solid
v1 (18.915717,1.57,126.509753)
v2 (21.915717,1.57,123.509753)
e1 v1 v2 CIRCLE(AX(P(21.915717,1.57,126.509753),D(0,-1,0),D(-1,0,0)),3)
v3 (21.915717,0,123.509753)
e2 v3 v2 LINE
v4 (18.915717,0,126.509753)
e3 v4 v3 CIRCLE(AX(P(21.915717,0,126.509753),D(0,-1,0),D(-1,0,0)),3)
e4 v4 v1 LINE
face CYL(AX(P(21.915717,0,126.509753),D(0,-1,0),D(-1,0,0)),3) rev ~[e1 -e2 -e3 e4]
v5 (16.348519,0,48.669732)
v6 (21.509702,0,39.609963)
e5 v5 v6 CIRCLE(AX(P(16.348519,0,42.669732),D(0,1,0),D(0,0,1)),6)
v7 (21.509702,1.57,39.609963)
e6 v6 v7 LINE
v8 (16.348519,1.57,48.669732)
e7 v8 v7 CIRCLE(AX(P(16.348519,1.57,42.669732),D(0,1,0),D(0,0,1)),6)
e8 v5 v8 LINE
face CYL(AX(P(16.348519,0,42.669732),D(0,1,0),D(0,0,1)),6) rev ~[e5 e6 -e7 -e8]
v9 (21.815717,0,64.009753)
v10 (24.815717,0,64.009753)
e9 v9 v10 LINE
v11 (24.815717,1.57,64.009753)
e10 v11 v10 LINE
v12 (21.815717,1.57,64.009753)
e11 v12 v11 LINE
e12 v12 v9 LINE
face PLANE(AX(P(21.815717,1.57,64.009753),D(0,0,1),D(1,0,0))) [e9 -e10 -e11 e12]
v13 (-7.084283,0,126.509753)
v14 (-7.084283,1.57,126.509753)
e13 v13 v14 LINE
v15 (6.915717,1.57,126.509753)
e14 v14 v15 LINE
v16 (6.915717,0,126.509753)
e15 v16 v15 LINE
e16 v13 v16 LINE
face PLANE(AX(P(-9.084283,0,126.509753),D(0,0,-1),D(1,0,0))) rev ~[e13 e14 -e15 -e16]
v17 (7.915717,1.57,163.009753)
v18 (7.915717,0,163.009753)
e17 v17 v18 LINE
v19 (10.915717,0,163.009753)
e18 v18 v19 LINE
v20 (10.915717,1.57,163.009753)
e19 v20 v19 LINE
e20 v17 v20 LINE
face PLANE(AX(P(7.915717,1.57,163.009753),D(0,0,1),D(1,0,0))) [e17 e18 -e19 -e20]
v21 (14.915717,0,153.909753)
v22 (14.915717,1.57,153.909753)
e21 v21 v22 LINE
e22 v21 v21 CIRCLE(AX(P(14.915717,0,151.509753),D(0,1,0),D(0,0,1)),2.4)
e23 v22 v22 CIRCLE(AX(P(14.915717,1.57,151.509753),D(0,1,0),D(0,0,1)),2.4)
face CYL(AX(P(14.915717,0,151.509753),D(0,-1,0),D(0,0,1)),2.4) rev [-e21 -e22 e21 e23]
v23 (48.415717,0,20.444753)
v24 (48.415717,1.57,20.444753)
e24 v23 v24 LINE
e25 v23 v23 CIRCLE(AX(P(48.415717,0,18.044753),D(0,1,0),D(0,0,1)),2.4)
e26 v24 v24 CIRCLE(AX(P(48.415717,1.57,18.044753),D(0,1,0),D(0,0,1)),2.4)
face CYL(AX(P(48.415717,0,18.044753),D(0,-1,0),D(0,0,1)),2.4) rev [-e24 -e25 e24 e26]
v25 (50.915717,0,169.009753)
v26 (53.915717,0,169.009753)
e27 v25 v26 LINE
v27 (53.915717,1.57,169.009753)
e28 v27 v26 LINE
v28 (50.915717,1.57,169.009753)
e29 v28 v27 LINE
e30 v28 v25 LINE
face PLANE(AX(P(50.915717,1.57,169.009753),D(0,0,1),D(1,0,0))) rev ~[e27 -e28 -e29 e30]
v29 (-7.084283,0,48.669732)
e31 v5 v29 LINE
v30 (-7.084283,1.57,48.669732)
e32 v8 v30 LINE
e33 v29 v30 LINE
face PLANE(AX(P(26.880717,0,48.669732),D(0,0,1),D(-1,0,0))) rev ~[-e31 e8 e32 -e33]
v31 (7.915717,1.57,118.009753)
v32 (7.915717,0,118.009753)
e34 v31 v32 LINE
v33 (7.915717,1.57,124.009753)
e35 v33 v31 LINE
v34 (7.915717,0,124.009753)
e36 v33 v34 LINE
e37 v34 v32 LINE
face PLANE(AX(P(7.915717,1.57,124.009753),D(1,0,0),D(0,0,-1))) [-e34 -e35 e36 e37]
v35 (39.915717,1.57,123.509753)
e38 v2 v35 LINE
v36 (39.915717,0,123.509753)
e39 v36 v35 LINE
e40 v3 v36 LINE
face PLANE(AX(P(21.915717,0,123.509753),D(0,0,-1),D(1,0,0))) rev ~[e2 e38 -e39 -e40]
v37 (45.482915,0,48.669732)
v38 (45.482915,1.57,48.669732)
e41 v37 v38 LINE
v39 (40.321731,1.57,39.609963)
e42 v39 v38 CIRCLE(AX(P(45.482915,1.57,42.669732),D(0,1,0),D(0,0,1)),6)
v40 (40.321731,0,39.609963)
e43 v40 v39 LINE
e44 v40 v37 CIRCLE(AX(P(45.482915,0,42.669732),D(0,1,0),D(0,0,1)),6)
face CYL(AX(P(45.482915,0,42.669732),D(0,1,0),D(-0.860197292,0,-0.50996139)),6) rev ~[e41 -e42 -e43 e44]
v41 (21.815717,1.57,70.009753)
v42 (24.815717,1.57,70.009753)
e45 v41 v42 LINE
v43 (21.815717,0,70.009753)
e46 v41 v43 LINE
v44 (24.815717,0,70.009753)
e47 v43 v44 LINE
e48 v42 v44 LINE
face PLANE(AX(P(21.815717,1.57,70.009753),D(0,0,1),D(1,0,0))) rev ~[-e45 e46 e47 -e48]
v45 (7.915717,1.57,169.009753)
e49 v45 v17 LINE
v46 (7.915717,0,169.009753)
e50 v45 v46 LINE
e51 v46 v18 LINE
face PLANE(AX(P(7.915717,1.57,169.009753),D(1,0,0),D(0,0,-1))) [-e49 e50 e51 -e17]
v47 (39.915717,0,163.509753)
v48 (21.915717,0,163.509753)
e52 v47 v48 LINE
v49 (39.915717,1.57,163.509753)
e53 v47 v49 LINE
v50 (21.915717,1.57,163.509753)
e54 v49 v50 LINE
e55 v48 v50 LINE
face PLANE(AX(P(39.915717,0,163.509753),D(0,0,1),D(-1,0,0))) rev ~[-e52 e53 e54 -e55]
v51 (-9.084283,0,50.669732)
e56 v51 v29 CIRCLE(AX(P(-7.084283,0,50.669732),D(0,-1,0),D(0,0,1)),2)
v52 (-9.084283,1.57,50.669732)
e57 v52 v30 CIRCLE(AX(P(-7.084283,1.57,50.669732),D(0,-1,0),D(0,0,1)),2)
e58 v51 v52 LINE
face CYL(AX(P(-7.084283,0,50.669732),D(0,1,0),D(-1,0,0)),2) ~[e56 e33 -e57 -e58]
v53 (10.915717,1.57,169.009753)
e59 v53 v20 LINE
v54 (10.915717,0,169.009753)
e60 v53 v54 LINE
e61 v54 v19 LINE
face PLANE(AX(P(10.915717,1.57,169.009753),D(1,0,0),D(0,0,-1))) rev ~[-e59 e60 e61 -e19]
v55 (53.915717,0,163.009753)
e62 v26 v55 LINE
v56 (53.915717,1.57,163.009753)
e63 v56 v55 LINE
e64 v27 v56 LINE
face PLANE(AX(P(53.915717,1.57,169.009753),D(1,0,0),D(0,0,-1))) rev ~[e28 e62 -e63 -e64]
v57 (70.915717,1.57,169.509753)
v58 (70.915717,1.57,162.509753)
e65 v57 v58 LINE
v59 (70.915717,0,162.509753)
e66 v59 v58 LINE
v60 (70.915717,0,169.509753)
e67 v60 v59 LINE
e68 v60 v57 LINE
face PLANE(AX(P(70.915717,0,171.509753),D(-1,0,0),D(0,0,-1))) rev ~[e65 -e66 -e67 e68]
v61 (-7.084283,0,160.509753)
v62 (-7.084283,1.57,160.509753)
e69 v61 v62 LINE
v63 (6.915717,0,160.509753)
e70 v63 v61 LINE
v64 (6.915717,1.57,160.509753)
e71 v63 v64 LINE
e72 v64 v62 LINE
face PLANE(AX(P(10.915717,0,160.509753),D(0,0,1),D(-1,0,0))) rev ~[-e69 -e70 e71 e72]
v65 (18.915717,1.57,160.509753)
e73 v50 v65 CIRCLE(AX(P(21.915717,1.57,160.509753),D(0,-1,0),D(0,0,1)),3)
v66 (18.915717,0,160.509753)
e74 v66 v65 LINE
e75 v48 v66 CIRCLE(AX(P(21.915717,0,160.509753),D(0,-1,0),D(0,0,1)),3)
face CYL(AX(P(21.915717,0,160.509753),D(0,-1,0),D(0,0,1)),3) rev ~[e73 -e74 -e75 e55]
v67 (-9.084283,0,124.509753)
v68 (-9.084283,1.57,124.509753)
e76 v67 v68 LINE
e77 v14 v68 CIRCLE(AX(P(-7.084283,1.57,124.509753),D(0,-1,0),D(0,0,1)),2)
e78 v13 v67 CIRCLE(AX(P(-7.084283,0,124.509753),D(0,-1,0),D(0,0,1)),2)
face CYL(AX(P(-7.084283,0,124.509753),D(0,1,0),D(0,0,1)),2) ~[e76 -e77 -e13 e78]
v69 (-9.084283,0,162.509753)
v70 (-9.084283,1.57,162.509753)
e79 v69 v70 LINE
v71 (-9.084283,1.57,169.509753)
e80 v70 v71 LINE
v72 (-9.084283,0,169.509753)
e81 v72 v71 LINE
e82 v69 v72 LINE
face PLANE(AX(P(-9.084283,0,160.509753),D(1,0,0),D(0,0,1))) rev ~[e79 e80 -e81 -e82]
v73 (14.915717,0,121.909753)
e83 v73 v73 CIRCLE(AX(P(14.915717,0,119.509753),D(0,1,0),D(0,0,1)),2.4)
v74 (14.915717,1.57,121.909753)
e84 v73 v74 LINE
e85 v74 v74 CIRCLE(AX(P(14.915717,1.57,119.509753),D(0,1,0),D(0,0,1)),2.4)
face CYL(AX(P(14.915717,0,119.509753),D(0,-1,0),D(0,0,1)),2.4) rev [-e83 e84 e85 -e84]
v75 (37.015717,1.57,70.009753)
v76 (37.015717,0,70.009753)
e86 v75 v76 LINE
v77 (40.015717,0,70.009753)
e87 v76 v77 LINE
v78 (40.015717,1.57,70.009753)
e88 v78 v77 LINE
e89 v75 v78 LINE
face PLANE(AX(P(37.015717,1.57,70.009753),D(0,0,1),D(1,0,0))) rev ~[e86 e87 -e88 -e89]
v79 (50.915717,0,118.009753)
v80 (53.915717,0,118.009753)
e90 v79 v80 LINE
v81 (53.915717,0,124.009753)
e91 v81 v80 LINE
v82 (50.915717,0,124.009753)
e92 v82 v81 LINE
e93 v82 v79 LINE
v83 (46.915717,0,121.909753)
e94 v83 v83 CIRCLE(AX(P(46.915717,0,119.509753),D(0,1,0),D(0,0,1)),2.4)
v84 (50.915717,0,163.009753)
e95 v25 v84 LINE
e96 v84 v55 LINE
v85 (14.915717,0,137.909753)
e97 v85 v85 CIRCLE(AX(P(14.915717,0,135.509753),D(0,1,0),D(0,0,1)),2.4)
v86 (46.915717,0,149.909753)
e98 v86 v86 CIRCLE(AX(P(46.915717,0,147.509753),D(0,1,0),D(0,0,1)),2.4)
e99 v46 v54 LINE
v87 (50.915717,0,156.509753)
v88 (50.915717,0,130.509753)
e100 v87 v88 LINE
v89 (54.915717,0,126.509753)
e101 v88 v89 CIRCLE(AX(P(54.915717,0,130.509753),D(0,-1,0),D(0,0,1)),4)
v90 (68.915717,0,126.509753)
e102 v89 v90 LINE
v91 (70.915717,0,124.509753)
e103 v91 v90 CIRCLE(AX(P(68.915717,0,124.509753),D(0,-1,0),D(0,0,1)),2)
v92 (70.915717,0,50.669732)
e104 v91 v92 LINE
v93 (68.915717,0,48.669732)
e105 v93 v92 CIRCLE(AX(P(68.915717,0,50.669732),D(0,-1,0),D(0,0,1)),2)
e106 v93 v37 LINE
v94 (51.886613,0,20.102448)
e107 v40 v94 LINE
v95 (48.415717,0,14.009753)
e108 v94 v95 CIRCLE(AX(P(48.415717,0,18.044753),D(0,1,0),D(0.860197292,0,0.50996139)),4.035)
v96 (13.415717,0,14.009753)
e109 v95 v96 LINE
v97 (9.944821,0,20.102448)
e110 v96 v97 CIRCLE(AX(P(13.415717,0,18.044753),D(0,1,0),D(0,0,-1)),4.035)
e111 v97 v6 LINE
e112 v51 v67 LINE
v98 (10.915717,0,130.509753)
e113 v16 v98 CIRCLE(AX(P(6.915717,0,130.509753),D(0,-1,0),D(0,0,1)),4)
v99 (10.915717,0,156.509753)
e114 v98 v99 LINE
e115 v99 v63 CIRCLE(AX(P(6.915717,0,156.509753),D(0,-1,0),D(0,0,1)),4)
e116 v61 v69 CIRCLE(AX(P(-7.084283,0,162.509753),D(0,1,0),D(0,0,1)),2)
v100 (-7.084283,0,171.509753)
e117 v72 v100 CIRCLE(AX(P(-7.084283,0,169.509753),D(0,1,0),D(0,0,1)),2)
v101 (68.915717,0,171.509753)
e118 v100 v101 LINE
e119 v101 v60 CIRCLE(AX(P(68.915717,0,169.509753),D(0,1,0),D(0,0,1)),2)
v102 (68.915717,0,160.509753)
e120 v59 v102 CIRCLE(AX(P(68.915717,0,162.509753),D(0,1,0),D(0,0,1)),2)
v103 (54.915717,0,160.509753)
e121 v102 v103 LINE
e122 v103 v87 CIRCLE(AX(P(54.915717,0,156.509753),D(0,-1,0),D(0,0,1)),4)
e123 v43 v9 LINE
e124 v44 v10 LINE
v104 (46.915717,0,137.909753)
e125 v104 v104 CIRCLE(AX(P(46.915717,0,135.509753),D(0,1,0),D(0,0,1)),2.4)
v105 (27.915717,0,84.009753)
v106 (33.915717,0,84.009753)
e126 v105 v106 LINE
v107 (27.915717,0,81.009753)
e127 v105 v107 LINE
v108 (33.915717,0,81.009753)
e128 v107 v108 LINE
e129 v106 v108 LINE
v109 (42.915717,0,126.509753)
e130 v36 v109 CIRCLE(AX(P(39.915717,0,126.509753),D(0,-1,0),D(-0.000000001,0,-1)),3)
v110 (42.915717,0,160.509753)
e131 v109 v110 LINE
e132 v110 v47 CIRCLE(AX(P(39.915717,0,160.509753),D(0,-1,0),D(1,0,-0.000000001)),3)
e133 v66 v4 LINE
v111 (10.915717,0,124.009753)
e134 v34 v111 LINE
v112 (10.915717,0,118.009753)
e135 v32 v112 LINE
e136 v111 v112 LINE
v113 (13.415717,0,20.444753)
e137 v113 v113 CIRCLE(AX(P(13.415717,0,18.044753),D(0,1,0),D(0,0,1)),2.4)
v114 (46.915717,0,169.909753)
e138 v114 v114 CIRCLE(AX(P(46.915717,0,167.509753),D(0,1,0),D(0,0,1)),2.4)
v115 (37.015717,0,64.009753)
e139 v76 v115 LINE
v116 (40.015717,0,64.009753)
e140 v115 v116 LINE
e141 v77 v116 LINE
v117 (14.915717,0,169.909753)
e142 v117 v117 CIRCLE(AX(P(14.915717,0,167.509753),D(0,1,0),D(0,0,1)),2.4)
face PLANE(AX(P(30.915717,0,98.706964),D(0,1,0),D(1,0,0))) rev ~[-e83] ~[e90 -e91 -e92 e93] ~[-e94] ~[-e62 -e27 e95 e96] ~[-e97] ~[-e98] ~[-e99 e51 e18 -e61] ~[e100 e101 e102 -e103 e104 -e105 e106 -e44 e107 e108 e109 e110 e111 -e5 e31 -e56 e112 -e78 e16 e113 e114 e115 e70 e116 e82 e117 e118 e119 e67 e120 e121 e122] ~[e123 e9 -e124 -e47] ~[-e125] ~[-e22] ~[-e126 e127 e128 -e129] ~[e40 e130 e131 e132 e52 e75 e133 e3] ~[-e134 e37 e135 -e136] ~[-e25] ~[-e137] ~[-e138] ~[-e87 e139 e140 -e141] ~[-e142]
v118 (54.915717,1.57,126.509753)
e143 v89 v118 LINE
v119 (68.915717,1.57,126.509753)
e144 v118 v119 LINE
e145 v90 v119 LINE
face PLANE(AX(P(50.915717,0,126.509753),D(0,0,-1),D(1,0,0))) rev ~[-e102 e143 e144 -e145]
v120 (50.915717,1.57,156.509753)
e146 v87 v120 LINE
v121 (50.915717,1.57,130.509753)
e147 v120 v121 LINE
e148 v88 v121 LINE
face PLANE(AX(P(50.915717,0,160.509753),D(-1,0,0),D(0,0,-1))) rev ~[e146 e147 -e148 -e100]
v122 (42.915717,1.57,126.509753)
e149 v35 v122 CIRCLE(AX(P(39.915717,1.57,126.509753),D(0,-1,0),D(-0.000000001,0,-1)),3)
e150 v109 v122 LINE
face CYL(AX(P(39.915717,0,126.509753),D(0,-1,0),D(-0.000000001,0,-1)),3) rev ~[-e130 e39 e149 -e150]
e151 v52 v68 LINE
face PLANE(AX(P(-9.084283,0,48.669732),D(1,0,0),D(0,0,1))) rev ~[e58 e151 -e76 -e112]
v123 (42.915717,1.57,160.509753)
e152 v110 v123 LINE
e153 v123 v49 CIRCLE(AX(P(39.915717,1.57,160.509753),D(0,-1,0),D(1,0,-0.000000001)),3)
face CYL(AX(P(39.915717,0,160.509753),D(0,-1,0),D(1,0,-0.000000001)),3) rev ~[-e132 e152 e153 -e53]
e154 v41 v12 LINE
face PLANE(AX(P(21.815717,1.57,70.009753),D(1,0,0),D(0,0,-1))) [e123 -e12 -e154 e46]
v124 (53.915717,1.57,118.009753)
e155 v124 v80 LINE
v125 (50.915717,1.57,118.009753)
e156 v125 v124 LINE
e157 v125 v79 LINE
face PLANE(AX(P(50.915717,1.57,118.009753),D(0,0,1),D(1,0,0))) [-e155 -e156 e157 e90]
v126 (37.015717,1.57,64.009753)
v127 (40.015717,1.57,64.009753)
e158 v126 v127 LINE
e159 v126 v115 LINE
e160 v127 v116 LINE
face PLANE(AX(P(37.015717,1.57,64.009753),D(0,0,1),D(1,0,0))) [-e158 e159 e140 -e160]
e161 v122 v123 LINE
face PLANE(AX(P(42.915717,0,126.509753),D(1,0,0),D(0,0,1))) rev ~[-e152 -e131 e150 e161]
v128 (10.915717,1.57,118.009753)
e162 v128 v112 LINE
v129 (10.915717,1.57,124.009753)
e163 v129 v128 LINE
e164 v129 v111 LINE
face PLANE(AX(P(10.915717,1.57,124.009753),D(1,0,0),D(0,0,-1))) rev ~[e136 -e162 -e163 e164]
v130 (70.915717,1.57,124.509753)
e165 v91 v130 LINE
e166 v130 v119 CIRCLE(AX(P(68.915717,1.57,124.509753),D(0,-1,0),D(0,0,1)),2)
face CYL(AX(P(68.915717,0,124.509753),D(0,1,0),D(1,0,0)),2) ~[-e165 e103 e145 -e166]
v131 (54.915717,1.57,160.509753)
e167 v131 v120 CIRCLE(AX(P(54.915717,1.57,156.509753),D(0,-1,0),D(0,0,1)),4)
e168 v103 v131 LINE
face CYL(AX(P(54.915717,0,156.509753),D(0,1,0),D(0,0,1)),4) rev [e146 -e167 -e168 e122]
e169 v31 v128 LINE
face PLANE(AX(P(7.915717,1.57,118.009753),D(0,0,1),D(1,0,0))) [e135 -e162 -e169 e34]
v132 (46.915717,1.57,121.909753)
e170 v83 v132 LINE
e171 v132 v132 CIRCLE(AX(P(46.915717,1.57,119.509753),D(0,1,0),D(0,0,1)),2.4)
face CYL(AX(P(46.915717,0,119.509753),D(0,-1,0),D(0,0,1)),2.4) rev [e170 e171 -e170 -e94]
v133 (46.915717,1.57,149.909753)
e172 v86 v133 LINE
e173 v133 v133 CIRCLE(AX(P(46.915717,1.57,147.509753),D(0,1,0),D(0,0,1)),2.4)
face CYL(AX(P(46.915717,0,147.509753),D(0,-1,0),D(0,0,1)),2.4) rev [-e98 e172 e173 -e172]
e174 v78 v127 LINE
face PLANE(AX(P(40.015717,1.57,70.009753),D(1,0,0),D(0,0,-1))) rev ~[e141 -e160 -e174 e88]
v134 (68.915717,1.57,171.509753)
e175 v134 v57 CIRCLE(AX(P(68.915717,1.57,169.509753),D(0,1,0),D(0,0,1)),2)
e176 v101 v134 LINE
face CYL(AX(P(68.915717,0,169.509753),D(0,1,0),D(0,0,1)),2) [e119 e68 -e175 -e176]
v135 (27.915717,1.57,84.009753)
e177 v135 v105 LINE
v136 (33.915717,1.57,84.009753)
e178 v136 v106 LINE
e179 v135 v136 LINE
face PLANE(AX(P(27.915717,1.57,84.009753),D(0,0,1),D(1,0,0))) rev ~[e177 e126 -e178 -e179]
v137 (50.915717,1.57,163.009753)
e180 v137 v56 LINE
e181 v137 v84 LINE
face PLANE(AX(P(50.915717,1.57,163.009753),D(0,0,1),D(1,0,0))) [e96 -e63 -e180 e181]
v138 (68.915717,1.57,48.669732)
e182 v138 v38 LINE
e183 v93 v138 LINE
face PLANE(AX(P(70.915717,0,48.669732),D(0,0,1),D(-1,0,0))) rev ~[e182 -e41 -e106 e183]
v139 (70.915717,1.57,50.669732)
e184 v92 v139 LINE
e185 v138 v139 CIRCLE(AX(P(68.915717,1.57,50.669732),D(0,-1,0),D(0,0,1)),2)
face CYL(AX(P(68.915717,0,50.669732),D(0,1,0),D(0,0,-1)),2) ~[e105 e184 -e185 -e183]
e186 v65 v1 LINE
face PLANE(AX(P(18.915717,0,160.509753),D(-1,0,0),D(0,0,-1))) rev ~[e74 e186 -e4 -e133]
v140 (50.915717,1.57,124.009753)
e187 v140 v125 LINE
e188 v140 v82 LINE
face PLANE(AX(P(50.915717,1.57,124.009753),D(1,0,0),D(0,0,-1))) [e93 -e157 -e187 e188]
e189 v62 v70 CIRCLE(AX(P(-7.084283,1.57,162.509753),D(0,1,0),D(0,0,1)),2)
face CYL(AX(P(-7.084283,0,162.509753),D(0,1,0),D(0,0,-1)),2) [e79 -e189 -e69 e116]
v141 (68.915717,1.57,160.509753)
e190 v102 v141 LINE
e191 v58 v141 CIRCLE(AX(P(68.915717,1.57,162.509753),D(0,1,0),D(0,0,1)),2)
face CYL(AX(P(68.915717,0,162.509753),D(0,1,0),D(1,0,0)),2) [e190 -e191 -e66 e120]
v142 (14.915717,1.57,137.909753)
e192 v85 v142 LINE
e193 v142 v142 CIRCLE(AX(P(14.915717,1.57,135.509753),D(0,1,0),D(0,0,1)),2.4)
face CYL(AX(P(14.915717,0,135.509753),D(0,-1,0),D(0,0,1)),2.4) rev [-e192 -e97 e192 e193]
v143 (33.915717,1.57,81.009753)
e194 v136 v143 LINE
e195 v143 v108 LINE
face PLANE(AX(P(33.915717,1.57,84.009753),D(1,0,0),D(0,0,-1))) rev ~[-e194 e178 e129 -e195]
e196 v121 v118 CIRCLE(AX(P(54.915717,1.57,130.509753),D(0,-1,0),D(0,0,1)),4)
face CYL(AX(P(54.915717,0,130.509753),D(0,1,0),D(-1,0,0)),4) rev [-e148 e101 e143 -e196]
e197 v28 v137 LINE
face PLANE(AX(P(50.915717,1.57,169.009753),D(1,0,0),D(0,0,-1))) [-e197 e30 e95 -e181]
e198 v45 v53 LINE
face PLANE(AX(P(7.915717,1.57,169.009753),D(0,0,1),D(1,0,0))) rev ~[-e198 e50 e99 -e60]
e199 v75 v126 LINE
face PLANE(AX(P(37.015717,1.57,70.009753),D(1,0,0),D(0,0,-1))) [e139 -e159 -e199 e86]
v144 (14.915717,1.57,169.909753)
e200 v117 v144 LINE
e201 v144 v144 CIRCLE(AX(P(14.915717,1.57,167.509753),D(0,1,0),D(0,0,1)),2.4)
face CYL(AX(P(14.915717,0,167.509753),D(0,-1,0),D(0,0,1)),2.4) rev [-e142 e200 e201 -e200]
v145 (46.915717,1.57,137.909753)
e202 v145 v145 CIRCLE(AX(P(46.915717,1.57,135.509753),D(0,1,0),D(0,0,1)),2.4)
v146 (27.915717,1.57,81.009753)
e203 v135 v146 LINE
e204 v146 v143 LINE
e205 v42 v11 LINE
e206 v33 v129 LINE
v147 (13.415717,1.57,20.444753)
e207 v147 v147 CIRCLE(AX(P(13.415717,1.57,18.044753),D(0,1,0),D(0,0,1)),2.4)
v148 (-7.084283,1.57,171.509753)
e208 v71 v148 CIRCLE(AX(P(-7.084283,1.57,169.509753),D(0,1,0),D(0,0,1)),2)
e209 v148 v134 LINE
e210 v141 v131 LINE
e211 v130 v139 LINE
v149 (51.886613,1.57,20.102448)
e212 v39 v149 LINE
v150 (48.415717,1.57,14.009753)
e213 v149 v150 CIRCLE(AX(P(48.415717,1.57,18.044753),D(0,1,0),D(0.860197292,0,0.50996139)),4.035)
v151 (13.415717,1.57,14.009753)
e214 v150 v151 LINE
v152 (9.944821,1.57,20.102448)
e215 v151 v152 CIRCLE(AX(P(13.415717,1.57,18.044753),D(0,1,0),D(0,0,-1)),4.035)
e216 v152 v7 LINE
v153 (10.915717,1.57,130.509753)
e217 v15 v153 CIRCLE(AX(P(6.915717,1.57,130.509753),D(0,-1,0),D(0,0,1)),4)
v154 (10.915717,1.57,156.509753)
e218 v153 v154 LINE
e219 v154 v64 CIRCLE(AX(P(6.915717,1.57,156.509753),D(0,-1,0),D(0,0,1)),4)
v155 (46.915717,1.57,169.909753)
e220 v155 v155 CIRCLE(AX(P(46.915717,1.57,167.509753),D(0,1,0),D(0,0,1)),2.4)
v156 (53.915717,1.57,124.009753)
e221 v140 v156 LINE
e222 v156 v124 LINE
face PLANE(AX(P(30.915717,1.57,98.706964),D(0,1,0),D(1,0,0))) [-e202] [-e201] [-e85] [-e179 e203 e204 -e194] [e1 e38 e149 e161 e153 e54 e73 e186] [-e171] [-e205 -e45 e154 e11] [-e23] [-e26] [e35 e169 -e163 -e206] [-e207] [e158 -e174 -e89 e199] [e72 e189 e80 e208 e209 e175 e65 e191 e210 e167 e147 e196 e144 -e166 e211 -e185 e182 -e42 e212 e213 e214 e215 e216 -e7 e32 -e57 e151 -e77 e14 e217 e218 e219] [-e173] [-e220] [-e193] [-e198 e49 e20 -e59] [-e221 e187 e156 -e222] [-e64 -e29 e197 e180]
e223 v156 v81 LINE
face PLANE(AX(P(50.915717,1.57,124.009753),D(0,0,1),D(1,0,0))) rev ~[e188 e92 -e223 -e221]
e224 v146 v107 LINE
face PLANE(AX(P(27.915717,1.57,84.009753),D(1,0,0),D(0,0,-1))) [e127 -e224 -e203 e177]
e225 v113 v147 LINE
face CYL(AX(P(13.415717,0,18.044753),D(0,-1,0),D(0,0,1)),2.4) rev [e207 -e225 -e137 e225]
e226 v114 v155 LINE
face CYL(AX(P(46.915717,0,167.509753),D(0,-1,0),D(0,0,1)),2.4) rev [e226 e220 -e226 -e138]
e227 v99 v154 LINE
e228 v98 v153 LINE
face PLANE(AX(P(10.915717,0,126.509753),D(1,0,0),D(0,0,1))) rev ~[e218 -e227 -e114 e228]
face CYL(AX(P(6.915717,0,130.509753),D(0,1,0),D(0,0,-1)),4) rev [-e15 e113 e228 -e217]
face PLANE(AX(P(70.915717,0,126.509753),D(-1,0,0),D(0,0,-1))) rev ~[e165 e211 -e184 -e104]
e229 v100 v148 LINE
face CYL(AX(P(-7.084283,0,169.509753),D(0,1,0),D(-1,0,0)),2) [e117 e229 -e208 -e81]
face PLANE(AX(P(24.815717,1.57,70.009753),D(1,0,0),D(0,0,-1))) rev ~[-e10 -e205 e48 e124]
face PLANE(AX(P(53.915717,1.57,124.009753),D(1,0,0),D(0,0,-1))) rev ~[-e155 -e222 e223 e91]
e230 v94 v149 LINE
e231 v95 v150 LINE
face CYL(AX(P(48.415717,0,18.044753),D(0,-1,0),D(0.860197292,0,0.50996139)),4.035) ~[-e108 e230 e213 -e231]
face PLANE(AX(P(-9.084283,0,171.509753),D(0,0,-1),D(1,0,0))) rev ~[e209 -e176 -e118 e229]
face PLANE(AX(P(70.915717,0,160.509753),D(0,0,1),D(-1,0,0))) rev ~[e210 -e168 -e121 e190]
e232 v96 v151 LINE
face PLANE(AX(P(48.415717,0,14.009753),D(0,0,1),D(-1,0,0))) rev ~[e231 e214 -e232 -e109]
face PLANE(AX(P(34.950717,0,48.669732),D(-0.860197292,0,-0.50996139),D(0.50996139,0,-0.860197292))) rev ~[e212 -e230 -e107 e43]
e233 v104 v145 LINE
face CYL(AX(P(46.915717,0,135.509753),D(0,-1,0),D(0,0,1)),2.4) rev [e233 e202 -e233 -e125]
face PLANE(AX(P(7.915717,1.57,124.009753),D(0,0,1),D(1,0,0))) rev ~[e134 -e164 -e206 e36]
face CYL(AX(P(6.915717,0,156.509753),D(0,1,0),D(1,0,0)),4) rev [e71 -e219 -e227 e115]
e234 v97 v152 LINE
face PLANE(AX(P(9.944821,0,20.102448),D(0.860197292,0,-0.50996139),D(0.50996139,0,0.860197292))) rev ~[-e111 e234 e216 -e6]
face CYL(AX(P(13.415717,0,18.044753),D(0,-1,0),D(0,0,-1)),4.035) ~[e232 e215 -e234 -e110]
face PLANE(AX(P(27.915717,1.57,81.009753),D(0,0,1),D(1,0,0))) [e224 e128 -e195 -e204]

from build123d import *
from OCP.BRepFilletAPI import BRepFilletAPI_MakeFillet

# Parameters (mm, degrees)
SKETCH2_R           = 2.4
BOSS_EXTRUDE1_DEPTH = 1.57
FILLET1_R1          = 4
FILLET1_R2          = 6
FILLET2_R           = 2
SKETCH3_W           = 3
SKETCH3_H           = 6
SKETCH3_W_2         = 6
SKETCH3_H_2         = 3
CUT_EXTRUDE1_DEPTH  = 10


with BuildPart() as part:
    # Sketch2 → Boss-Extrude1 (new body)
    with BuildSketch(Plane(origin=(0, 0, 0), x_dir=(1, 0, 0), z_dir=(0, 1, 0))):
        with BuildLine():
            Line((70.915716682, -126.509753408), (70.915716682, -48.669731747))
            Line((70.915716682, -48.669731747), (34.950716682, -48.669731747))
            Line((34.950716682, -48.669731747), (51.886612754, -20.102447618))
            ThreePointArc((51.886612754, -20.102447618), (51.921713055, -16.04745162), (48.415716682, -14.009753408))
            Line((48.415716682, -14.009753408), (13.415716682, -14.009753408))
            ThreePointArc((13.415716682, -14.009753408), (9.909720309, -16.04745162), (9.944820611, -20.102447618))
            Line((9.944820611, -20.102447618), (26.880716682, -48.669731747))
            Line((26.880716682, -48.669731747), (-9.084283318, -48.669731747))
            Line((-9.084283318, -48.669731747), (-9.084283318, -126.509753408))
            Line((-9.084283318, -126.509753408), (10.915716682, -126.509753408))
            Line((10.915716682, -126.509753408), (10.915716682, -160.509753408))
            Line((10.915716682, -160.509753408), (-9.084283318, -160.509753408))
            Line((-9.084283318, -160.509753408), (-9.084283318, -171.509753408))
            Line((-9.084283318, -171.509753408), (70.915716682, -171.509753408))
            Line((70.915716682, -171.509753408), (70.915716682, -160.509753408))
            Line((70.915716682, -160.509753408), (50.915716682, -160.509753408))
            Line((50.915716682, -160.509753408), (50.915716682, -126.509753408))
            Line((50.915716682, -126.509753408), (70.915716682, -126.509753408))
        make_face()
        with BuildLine():
            Line((42.915716682, -126.509753408), (42.915716682, -160.509753408))
            ThreePointArc((42.915716682, -160.509753408), (42.037037026, -162.631073752), (39.915716682, -163.509753408))
            Line((39.915716682, -163.509753408), (21.915716682, -163.509753408))
            ThreePointArc((21.915716682, -163.509753408), (19.794396339, -162.631073752), (18.915716682, -160.509753408))
            Line((18.915716682, -160.509753408), (18.915716682, -126.509753408))
            ThreePointArc((18.915716682, -126.509753408), (19.794396339, -124.388433064), (21.915716682, -123.509753408))
            Line((21.915716682, -123.509753408), (39.915716682, -123.509753408))
            ThreePointArc((39.915716682, -123.509753408), (42.037037026, -124.388433064), (42.915716682, -126.509753408))
        make_face(mode=Mode.SUBTRACT)
        with Locations((46.915716682, -135.509753408)):
            Circle(SKETCH2_R, mode=Mode.SUBTRACT)
        with Locations((46.915716682, -119.509753408)):
            Circle(SKETCH2_R, mode=Mode.SUBTRACT)
        with Locations((14.915716682, -119.509753408)):
            Circle(SKETCH2_R, mode=Mode.SUBTRACT)
        with Locations((14.915716682, -135.509753408)):
            Circle(SKETCH2_R, mode=Mode.SUBTRACT)
        with Locations((46.915716682, -147.509753408)):
            Circle(SKETCH2_R, mode=Mode.SUBTRACT)
        with Locations((14.915716682, -151.509753408)):
            Circle(SKETCH2_R, mode=Mode.SUBTRACT)
        with Locations((48.415716682, -18.044753408)):
            Circle(SKETCH2_R, mode=Mode.SUBTRACT)
        with Locations((13.415716682, -18.044753408)):
            Circle(SKETCH2_R, mode=Mode.SUBTRACT)
        with Locations((14.915716682, -167.509753408)):
            Circle(SKETCH2_R, mode=Mode.SUBTRACT)
        with Locations((46.915716682, -167.509753408)):
            Circle(SKETCH2_R, mode=Mode.SUBTRACT)
    extrude(amount=BOSS_EXTRUDE1_DEPTH)

    # Fillet1: one fillet with a radius per group of edges: ONE call of the kernel's fillet builder (fillet() takes one radius for all edges)
    fillet1_edges_1 = [part.edges().sort_by_distance(p)[0] for p in [
        (50.915716682, 0.785, 126.509753408),
        (50.915716682, 0.785, 160.509753408),
        (10.915716682, 0.785, 126.509753408),
        (10.915716682, 0.785, 160.509753408),
    ]]
    fillet1_edges_2 = [part.edges().sort_by_distance(p)[0] for p in [
        (26.880716682, 0.785, 48.669731747),
        (34.950716682, 0.785, 48.669731747),
    ]]
    fillet1 = BRepFilletAPI_MakeFillet(part.part.solid().wrapped)
    for e in fillet1_edges_1:
        fillet1.Add(FILLET1_R1, e.wrapped)
    for e in fillet1_edges_2:
        fillet1.Add(FILLET1_R2, e.wrapped)
    add(Compound.cast(fillet1.Shape()), mode=Mode.REPLACE)

    # Fillet2
    fillet2_edges = [part.edges().sort_by_distance(p)[0] for p in [
        (-9.084283318, 0.785, 171.509753408),
        (-9.084283318, 0.785, 160.509753408),
        (-9.084283318, 0.785, 126.509753408),
        (-9.084283318, 0.785, 48.669731747),
        (70.915716682, 0.785, 48.669731747),
        (70.915716682, 0.785, 171.509753408),
        (70.915716682, 0.785, 160.509753408),
        (70.915716682, 0.785, 126.509753408),
    ]]
    fillet(fillet2_edges, radius=FILLET2_R)

    # Sketch3 → Cut-Extrude1 (cut)
    with BuildSketch(Plane(origin=(0, 1.57, 0), x_dir=(1, 0, 0), z_dir=(0, 1, 0))):
        with Locations((9.415716682, -166.009753408)):
            Rectangle(SKETCH3_W, SKETCH3_H)
        with Locations((52.415716682, -166.009753408)):
            Rectangle(SKETCH3_W, SKETCH3_H)
        with Locations((52.415716682, -121.009753408)):
            Rectangle(SKETCH3_W, SKETCH3_H)
        with Locations((9.415716682, -121.009753408)):
            Rectangle(SKETCH3_W, SKETCH3_H)
        with Locations((23.315716682, -67.009753408)):
            Rectangle(SKETCH3_W, SKETCH3_H)
        with Locations((38.515716682, -67.009753408)):
            Rectangle(SKETCH3_W, SKETCH3_H)
        with Locations((30.915716682, -82.509753408)):
            Rectangle(SKETCH3_W_2, SKETCH3_H_2)
    extrude(amount=-CUT_EXTRUDE1_DEPTH, mode=Mode.SUBTRACT)


solid = part.part
